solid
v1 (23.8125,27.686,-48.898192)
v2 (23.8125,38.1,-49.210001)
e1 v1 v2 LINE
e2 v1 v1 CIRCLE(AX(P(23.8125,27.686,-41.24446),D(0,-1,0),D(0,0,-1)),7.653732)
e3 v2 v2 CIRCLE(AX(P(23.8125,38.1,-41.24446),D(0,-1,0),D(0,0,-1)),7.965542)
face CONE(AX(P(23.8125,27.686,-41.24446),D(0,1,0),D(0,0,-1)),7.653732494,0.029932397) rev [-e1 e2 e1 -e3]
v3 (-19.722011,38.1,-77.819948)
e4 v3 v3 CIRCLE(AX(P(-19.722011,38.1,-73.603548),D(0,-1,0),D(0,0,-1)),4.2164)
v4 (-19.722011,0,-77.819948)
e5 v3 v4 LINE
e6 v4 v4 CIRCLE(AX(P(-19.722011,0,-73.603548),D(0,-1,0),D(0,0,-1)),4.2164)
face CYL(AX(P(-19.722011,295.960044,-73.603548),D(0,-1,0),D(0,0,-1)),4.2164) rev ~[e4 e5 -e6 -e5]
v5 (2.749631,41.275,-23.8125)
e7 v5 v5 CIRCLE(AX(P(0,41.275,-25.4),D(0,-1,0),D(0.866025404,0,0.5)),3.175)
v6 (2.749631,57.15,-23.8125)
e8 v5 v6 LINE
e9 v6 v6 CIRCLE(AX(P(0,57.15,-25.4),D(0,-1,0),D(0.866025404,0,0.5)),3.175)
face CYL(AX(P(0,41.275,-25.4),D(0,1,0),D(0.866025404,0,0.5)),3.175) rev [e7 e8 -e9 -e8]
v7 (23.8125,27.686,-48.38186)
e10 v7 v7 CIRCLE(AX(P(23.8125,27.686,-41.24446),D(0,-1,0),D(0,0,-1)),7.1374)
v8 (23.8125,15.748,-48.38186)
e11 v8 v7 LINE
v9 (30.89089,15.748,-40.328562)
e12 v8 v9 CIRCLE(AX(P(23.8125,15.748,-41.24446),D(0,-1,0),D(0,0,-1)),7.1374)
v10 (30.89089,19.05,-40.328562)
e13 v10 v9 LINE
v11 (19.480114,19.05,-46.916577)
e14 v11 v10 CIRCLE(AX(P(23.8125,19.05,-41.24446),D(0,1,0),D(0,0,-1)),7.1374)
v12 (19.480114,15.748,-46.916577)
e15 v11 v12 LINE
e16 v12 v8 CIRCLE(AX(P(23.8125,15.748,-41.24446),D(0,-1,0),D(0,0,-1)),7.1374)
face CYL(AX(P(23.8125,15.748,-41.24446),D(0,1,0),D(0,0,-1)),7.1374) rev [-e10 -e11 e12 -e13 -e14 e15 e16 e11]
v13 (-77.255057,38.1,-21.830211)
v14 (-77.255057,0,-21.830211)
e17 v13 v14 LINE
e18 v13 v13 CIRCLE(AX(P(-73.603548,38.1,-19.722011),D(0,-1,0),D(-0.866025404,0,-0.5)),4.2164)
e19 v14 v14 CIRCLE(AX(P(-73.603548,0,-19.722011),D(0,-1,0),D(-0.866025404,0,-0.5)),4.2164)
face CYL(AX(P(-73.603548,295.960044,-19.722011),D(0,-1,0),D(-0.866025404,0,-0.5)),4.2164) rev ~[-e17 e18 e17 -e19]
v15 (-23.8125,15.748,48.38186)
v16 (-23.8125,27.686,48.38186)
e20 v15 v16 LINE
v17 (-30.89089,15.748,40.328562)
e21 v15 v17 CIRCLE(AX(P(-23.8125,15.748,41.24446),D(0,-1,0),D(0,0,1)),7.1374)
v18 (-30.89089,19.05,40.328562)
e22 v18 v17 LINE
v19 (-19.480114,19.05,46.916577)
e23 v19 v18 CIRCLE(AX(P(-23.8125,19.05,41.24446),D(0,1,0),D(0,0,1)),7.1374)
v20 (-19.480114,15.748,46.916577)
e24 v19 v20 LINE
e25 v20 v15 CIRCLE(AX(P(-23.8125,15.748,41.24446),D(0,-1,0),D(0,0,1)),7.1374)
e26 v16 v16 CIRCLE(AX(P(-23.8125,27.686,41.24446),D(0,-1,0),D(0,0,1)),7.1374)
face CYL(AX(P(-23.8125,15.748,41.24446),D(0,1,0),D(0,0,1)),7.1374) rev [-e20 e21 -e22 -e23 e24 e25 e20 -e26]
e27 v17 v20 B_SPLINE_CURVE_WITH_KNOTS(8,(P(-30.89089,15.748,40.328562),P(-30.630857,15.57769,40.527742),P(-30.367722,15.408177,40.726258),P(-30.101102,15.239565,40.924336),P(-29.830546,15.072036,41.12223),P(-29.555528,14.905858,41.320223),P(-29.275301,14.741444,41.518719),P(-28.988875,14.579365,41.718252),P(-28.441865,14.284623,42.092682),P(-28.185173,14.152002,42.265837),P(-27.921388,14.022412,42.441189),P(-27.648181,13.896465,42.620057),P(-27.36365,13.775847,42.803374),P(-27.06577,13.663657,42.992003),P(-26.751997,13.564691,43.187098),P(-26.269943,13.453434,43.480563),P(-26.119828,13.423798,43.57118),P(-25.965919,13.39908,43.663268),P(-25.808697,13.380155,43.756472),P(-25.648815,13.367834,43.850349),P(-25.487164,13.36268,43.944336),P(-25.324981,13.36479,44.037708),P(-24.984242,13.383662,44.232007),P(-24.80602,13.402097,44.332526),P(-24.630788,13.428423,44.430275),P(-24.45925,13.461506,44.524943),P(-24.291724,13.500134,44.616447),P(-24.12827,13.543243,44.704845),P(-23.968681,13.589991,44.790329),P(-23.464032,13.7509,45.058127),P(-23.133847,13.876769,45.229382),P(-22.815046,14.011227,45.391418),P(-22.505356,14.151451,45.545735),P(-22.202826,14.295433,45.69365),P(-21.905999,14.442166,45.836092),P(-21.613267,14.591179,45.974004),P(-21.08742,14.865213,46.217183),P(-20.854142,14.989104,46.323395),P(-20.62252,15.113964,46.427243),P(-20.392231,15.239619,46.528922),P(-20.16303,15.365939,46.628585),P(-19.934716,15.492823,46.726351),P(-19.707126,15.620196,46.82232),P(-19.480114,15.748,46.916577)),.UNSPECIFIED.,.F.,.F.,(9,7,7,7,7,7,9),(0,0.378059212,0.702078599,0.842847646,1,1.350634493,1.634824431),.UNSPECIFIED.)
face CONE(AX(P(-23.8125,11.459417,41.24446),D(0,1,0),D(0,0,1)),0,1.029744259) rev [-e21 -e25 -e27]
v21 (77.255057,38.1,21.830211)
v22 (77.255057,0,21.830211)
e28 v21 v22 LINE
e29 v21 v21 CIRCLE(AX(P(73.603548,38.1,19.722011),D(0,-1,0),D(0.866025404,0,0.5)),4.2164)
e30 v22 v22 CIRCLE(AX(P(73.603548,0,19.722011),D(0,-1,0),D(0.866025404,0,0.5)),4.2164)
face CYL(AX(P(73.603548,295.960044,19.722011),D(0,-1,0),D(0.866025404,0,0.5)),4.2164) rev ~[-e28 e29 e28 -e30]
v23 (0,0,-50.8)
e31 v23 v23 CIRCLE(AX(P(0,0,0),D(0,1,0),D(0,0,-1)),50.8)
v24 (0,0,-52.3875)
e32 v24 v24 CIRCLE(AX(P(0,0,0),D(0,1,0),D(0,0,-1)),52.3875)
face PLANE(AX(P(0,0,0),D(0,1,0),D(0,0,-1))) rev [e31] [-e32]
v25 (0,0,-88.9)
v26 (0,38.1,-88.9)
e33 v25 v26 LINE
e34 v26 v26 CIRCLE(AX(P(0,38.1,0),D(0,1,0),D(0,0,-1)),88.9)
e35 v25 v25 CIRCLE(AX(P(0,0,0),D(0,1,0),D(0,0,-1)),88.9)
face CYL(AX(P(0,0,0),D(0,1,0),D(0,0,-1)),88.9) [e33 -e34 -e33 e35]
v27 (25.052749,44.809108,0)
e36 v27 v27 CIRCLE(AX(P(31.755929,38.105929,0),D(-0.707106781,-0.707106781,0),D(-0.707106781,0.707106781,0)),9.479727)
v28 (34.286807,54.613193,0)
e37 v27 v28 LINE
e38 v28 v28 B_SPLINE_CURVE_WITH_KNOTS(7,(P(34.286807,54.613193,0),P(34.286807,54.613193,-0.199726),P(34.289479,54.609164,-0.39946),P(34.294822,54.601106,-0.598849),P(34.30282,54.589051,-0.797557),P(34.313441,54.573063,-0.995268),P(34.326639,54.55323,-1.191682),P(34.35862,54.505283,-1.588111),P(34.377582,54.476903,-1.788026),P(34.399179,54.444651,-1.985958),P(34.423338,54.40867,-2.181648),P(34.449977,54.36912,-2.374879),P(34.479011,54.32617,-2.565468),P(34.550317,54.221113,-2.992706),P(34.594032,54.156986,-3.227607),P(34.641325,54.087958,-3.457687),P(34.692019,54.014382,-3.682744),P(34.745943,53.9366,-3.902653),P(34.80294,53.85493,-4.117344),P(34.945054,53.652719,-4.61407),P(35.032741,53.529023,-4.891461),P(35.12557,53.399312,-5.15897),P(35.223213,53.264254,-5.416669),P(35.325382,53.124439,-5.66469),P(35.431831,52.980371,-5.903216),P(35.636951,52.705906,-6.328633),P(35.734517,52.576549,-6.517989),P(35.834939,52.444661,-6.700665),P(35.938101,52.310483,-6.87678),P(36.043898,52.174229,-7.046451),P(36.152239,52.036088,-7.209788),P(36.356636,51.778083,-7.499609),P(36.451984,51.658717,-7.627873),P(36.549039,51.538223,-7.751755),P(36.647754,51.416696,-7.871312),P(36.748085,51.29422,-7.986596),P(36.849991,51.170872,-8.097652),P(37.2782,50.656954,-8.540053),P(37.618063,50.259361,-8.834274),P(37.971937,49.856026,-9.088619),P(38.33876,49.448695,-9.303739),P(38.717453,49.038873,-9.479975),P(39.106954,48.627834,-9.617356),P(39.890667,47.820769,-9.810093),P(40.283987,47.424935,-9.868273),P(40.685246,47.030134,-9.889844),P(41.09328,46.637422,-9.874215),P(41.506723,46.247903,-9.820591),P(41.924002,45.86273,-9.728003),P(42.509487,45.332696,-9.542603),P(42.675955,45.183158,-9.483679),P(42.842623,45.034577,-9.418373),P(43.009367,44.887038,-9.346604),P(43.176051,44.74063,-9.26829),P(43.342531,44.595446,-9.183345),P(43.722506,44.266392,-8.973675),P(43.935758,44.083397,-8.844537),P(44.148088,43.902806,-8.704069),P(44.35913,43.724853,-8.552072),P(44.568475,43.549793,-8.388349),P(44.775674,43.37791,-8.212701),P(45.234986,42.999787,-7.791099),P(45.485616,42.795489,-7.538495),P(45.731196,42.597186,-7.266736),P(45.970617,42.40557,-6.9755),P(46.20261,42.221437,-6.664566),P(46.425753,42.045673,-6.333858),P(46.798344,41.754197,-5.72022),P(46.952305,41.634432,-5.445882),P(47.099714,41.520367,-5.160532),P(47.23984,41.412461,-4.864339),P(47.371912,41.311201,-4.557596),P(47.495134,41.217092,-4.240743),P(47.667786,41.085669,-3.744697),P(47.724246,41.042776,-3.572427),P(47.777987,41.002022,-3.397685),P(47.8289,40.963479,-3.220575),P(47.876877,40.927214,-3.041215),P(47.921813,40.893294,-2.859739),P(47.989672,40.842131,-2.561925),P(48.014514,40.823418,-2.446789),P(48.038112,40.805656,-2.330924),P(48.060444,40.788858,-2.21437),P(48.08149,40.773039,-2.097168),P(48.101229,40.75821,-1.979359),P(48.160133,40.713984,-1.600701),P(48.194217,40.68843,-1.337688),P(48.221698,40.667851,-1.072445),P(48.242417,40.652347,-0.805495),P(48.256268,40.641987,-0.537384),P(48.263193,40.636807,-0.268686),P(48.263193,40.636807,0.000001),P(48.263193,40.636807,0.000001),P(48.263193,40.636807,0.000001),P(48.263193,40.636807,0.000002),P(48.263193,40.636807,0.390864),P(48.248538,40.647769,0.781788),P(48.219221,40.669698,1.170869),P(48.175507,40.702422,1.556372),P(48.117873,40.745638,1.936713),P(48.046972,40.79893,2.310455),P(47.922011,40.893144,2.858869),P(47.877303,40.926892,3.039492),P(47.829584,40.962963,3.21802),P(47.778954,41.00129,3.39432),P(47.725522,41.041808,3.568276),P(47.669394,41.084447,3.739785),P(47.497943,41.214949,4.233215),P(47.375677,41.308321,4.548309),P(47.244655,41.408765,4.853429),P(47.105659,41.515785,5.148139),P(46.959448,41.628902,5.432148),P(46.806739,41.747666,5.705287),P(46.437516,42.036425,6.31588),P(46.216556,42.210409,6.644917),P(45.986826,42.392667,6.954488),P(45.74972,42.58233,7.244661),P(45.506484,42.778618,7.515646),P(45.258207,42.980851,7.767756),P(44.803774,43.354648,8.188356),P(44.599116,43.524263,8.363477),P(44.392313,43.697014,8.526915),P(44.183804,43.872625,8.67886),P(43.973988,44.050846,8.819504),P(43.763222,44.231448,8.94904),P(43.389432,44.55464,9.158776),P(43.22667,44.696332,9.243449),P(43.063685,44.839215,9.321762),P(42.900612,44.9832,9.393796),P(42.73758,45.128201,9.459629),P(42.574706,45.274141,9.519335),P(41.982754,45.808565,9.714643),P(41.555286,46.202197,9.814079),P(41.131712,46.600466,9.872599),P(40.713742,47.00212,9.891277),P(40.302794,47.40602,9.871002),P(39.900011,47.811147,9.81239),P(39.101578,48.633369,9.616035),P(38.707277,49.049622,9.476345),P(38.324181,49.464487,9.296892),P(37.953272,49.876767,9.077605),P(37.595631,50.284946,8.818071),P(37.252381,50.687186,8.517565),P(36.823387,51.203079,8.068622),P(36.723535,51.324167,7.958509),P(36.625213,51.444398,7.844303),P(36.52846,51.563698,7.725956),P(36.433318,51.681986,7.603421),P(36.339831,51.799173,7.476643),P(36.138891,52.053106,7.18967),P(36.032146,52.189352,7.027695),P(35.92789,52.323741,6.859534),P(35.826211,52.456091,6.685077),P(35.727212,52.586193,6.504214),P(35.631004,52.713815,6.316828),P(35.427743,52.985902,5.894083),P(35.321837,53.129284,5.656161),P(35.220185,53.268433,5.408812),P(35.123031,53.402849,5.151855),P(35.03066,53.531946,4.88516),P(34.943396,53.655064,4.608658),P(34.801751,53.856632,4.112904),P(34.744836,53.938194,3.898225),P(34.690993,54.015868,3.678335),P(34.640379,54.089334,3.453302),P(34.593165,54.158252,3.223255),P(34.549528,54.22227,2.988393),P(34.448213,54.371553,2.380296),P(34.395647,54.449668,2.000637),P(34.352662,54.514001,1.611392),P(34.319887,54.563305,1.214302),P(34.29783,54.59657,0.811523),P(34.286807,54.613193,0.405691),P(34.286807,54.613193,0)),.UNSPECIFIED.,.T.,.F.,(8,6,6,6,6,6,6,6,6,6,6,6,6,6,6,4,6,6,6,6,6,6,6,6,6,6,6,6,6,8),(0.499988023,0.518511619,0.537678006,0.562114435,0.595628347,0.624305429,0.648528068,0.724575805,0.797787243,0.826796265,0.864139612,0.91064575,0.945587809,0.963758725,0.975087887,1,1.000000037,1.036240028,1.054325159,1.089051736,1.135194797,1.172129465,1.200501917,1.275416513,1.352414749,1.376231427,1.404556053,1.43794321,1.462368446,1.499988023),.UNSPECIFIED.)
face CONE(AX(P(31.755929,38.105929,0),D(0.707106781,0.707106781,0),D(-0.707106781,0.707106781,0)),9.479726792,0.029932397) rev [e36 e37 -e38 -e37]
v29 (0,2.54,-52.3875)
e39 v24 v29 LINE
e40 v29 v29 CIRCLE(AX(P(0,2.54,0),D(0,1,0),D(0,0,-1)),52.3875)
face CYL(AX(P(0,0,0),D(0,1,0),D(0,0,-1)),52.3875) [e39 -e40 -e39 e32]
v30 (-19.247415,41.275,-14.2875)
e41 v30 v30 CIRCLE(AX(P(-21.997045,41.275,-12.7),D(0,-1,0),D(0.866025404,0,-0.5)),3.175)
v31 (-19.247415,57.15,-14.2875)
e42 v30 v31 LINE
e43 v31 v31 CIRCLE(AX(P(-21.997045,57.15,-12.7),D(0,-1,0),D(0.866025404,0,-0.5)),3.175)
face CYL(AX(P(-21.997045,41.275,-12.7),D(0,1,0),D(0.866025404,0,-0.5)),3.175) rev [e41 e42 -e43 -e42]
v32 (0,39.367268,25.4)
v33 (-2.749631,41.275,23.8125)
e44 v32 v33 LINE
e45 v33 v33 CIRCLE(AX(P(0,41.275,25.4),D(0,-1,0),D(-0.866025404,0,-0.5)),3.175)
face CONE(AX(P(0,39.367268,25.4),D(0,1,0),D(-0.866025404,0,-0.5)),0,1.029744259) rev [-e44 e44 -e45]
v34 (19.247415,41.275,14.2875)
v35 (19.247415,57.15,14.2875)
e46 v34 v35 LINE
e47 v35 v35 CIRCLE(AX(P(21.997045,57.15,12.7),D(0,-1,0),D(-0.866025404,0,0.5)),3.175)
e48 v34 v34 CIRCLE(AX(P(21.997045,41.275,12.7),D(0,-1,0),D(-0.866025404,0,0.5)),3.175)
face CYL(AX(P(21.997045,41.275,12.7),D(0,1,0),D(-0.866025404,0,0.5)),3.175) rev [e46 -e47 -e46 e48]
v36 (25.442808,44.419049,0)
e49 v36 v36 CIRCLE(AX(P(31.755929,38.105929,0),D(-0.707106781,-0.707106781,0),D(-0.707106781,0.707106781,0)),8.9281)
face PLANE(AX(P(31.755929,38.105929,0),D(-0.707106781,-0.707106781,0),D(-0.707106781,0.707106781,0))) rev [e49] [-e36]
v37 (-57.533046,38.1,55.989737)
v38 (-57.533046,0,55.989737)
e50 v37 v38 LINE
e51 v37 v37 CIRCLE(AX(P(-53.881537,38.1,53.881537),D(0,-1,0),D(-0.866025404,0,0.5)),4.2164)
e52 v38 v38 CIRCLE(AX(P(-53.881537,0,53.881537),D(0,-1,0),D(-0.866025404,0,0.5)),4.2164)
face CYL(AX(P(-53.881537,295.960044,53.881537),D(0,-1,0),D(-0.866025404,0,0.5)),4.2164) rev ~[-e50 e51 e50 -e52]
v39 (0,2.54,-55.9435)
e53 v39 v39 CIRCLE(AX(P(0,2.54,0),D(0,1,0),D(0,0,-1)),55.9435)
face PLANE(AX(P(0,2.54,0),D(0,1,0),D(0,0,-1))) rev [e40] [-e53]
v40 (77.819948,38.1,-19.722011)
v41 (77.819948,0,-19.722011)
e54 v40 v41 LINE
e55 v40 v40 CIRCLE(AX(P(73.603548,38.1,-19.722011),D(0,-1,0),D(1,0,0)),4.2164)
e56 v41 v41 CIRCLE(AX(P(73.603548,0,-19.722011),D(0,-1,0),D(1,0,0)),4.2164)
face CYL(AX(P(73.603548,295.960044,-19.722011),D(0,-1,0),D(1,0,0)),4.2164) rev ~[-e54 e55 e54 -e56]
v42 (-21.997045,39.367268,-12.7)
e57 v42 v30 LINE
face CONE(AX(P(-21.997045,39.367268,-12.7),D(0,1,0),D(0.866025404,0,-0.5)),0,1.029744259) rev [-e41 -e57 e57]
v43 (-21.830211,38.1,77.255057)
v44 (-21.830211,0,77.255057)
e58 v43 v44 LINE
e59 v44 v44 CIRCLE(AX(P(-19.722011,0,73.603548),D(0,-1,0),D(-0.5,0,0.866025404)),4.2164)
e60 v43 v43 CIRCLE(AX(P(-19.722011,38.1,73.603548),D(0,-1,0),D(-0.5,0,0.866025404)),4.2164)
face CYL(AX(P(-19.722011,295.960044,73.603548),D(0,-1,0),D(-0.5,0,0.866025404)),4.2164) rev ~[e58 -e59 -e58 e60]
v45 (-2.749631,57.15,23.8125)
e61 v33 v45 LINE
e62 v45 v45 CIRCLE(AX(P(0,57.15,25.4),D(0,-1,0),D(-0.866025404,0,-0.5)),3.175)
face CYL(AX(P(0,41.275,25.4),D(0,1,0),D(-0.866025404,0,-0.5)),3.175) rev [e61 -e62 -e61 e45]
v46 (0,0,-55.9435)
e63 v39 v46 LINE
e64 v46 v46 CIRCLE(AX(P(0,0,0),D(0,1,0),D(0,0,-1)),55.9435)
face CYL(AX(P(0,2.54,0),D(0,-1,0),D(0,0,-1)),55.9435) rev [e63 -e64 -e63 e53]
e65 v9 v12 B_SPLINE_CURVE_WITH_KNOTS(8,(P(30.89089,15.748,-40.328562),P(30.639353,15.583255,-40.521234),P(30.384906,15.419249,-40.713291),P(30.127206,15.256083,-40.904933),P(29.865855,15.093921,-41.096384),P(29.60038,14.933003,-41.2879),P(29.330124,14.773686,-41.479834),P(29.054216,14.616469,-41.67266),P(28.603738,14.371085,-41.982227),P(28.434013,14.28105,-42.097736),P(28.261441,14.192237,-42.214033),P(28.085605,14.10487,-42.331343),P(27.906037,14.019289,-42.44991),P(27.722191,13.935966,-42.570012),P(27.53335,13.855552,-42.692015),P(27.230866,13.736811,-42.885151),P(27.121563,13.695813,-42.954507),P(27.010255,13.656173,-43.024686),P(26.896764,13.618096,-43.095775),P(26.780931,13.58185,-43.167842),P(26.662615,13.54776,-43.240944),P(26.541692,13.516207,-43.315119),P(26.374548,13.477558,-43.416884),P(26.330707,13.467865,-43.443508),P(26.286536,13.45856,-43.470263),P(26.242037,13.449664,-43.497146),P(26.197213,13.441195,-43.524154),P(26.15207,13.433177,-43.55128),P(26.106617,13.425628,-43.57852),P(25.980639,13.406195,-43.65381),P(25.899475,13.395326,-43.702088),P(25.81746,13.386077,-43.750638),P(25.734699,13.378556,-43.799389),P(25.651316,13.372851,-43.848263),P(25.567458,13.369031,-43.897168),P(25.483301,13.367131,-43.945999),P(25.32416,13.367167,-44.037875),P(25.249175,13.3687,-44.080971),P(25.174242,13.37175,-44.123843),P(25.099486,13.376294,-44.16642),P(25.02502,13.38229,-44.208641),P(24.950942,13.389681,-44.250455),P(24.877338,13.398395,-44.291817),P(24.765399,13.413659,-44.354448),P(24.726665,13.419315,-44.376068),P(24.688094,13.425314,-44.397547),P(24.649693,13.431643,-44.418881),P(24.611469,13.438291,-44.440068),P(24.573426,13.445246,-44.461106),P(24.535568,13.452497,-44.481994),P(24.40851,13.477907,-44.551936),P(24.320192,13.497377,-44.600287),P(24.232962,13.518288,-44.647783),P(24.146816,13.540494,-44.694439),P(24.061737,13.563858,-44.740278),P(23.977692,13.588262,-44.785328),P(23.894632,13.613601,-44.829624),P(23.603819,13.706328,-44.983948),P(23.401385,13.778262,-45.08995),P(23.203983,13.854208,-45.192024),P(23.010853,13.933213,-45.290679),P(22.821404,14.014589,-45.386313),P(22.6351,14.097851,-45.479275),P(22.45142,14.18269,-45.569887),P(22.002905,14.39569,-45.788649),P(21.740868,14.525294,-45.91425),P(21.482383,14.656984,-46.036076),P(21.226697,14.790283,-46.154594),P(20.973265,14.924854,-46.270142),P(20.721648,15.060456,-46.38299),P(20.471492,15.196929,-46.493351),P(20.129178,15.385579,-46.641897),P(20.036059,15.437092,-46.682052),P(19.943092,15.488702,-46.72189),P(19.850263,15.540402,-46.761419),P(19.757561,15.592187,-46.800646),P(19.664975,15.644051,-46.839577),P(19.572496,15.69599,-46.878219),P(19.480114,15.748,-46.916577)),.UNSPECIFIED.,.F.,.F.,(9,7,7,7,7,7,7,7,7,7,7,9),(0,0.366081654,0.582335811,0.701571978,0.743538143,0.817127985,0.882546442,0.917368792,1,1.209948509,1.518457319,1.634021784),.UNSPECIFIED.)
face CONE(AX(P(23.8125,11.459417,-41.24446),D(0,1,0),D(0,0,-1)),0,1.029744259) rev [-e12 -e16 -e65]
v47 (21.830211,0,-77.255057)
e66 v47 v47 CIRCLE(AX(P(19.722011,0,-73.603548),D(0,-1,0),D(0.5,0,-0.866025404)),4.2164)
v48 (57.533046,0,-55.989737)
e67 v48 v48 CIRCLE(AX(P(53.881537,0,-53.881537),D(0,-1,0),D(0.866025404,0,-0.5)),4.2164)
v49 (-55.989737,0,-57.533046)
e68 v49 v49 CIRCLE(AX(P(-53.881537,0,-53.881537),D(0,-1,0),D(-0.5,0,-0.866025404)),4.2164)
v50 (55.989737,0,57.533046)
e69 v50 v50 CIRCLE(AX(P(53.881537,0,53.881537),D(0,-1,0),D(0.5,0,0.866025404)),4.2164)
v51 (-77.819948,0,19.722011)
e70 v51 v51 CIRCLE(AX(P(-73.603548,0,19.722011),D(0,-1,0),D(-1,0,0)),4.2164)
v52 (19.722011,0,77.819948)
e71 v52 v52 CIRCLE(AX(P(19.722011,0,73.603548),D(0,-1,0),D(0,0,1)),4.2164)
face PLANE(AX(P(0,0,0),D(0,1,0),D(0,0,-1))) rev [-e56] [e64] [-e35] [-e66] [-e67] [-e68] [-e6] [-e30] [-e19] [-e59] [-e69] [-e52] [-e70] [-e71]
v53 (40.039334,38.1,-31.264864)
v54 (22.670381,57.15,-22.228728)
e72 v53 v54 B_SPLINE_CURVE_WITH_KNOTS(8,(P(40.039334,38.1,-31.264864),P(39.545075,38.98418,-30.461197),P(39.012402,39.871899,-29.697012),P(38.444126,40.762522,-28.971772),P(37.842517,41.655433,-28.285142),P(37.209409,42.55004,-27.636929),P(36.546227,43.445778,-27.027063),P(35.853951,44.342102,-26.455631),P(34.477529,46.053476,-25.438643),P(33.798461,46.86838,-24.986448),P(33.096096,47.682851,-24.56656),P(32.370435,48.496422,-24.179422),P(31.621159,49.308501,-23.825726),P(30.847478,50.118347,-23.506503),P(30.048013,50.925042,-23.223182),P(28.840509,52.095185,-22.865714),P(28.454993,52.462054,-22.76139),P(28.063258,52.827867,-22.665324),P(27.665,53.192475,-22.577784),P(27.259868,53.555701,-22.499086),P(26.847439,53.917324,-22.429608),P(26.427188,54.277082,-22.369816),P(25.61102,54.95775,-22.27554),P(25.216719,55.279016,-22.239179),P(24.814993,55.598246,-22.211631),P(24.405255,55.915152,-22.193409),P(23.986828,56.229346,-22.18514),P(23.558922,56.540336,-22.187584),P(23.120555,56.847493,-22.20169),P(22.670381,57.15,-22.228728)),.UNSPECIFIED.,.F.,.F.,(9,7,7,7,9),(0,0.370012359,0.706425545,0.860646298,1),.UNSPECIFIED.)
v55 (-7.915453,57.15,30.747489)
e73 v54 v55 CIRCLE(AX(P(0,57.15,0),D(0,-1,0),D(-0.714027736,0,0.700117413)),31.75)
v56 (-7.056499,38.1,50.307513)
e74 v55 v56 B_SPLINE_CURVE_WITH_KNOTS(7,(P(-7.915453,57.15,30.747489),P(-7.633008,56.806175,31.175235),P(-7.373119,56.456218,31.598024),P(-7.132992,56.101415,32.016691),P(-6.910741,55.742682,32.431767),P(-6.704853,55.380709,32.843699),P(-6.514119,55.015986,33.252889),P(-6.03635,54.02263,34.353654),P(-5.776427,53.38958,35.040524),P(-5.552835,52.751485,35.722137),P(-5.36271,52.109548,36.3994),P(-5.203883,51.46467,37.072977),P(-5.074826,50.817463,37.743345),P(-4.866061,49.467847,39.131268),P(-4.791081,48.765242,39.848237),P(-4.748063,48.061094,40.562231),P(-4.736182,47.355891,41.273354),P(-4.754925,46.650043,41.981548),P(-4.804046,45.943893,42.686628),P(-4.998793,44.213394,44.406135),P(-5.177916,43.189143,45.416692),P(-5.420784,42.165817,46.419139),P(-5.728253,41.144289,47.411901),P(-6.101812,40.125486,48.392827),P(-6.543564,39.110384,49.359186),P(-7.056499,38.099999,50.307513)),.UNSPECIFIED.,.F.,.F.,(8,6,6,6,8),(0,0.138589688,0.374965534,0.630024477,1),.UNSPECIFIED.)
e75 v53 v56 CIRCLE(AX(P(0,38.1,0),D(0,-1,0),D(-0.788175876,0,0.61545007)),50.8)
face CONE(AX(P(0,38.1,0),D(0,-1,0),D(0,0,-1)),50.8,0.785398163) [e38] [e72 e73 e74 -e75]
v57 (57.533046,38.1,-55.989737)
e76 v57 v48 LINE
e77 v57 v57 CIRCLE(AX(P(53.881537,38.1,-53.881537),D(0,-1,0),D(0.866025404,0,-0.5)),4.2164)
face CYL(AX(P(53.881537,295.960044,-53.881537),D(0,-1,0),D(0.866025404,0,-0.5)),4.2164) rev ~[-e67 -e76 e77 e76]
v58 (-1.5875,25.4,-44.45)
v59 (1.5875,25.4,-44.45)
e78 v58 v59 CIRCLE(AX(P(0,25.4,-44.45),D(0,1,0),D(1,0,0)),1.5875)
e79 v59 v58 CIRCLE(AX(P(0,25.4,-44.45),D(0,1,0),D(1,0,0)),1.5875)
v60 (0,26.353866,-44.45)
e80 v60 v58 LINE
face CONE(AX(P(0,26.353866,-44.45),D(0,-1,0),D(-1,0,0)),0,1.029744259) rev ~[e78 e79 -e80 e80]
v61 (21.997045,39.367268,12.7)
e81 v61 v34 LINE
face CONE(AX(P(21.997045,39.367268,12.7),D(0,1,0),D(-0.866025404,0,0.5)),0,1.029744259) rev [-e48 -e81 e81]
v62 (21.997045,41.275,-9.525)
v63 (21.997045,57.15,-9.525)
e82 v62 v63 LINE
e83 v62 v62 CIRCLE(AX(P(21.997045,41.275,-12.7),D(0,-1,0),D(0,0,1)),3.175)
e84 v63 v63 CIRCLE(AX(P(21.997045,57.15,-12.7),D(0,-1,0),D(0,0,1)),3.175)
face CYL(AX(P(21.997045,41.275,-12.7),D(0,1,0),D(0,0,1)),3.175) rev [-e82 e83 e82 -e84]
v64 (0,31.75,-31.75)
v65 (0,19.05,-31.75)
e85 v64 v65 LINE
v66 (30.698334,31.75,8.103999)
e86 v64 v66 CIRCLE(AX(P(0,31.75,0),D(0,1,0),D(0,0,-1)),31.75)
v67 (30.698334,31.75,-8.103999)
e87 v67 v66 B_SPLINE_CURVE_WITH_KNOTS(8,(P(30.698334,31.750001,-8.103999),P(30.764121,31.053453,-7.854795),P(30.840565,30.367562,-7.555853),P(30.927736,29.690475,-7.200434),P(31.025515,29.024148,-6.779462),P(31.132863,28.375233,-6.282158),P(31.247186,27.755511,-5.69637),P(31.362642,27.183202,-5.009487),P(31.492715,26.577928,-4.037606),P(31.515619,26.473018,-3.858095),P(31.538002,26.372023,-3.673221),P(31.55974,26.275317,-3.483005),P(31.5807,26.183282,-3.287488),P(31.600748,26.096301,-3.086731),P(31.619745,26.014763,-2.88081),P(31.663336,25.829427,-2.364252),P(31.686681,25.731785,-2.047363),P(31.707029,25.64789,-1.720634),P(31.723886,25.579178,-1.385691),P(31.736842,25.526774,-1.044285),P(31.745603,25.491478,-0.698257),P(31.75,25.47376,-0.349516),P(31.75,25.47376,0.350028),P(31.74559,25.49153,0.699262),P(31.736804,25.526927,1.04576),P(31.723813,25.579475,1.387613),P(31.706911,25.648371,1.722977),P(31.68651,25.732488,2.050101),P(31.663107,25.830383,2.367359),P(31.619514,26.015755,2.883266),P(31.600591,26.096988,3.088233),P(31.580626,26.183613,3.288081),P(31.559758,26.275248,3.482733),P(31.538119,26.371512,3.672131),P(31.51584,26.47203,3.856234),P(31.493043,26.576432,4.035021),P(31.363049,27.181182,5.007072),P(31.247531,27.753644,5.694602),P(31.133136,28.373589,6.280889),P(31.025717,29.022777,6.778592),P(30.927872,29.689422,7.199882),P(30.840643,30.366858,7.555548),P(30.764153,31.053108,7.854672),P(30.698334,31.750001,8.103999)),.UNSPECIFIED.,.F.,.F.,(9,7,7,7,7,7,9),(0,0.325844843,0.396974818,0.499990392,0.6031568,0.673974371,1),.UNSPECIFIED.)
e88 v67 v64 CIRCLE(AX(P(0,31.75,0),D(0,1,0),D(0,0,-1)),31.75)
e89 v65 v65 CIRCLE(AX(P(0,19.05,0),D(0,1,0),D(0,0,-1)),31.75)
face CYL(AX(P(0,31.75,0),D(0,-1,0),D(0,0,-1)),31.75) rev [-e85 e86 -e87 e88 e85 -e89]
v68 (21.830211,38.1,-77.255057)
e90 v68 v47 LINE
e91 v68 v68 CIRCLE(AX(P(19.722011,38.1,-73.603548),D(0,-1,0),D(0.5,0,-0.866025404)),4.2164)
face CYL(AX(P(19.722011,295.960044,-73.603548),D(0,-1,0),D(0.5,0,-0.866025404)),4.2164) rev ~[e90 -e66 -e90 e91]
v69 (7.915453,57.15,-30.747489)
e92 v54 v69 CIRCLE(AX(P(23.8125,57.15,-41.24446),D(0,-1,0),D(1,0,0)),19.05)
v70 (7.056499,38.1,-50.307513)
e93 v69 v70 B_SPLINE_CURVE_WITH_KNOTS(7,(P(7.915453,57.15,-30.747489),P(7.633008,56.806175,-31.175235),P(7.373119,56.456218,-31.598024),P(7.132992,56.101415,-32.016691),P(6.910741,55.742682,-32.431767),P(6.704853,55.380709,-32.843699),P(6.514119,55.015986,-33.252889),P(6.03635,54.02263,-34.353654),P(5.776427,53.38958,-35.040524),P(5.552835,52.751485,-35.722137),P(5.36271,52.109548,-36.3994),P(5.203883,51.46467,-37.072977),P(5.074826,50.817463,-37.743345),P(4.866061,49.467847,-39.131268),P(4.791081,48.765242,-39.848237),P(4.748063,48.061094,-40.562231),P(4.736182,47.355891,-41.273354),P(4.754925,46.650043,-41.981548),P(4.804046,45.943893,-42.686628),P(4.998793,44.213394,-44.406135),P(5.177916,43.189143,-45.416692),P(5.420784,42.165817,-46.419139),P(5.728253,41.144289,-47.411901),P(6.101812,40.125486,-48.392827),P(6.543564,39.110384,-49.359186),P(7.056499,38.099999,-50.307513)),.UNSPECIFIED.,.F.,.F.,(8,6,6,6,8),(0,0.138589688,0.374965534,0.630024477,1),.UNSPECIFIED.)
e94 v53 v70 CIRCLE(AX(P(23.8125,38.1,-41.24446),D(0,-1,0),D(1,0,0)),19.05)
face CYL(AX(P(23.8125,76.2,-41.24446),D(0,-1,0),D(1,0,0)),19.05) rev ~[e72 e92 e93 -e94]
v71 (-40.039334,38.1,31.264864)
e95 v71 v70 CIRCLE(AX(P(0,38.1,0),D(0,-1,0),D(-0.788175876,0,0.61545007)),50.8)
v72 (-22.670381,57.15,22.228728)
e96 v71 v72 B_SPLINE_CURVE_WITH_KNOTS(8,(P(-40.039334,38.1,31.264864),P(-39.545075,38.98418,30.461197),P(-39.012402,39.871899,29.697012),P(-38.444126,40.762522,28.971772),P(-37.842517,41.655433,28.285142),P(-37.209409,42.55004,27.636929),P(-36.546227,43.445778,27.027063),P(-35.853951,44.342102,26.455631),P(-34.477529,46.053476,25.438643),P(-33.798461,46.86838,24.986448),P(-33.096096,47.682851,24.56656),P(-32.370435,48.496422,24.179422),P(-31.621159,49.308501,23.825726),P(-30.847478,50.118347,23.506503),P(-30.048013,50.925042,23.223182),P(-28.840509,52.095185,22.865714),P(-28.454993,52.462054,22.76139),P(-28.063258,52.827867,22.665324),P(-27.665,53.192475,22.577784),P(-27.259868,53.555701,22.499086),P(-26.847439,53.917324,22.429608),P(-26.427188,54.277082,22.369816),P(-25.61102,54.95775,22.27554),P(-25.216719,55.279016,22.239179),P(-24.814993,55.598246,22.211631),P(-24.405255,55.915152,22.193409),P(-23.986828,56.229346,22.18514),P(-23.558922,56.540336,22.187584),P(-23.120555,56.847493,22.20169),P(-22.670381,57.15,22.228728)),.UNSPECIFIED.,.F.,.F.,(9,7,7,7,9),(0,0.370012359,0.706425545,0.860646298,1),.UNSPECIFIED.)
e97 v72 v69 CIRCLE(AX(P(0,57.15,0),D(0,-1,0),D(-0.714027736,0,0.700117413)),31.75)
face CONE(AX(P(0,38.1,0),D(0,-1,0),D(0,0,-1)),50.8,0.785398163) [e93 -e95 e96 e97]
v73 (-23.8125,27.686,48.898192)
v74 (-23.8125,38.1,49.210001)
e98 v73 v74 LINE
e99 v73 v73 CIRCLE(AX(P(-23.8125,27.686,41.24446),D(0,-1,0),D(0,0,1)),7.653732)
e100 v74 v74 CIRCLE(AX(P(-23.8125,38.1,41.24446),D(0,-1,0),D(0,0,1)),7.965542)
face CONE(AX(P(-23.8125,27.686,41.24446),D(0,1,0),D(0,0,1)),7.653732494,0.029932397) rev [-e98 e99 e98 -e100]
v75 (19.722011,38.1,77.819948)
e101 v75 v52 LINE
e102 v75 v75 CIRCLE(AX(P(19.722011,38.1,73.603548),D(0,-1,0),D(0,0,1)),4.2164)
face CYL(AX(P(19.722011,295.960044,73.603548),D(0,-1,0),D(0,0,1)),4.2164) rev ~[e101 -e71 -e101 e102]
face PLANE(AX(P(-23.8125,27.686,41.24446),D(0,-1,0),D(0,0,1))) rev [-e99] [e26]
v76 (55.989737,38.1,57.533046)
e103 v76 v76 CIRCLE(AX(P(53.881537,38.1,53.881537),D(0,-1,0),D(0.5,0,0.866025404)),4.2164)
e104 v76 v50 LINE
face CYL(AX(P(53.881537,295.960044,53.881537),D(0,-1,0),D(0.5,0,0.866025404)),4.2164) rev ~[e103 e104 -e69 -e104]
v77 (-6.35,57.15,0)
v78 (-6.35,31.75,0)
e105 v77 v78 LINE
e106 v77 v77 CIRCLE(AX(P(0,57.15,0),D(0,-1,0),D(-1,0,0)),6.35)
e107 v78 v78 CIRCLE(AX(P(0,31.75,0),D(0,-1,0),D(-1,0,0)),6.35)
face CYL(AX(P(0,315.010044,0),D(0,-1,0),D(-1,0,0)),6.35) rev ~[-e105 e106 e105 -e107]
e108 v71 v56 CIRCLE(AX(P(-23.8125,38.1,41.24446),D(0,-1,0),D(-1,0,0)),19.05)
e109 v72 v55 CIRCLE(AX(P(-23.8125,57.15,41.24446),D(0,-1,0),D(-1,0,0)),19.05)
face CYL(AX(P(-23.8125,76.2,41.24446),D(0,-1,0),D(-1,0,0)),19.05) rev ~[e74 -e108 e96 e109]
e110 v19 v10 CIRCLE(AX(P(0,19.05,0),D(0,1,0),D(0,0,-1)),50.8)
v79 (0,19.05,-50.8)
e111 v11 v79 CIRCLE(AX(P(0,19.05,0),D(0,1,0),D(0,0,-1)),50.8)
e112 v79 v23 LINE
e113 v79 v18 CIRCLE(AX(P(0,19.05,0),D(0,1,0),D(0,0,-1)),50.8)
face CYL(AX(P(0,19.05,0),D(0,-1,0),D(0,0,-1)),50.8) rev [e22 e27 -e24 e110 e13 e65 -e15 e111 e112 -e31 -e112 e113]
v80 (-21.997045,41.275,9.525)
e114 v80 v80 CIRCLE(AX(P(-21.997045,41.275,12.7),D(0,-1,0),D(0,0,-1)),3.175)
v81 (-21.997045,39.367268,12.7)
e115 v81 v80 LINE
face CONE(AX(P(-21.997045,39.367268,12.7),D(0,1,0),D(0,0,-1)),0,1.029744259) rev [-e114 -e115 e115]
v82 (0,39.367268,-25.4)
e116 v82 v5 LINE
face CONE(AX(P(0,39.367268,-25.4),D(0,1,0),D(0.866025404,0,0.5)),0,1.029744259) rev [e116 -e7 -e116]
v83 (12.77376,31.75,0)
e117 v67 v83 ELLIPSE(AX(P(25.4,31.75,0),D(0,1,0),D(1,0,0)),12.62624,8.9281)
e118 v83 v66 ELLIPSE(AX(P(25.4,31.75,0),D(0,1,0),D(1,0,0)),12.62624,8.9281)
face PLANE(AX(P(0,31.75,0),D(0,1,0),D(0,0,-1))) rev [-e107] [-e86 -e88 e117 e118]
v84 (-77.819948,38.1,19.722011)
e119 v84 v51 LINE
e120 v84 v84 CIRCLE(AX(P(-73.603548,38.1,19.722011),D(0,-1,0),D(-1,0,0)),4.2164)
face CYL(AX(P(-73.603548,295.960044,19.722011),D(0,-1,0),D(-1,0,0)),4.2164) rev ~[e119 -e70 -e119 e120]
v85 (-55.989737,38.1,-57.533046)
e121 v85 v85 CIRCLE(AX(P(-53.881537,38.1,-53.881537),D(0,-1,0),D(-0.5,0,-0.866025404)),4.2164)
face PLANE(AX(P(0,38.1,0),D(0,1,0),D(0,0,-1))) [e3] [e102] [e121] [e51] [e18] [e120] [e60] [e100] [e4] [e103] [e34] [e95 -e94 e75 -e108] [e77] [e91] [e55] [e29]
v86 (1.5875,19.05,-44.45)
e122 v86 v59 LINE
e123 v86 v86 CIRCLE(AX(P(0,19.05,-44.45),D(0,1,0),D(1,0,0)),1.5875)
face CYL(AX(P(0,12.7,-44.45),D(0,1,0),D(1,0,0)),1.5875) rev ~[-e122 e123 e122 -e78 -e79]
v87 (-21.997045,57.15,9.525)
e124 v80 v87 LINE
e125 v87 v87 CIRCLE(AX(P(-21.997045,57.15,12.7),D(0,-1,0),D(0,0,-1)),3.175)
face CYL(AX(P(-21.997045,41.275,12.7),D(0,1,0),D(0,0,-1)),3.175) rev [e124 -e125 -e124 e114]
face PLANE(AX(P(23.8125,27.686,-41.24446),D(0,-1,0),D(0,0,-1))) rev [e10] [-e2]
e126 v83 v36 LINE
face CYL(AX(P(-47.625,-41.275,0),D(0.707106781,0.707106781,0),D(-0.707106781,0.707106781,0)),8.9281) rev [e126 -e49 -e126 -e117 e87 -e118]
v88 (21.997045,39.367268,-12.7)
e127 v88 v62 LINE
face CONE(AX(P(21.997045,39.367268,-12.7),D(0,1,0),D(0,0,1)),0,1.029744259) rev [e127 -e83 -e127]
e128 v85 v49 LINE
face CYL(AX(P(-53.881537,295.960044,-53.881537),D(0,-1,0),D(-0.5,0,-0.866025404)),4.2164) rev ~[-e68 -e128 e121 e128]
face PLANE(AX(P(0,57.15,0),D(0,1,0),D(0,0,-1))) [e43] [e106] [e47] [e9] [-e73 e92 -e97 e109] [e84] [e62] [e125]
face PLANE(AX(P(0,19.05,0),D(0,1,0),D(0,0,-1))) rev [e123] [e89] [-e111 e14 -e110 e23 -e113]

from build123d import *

# Parameters (mm, degrees)
F_5_16_CLEARANCE_HOLE1_D         = 8.4328
CIRPATTERN1_COUNT                = 12
F_1_2_0_5_DIAMETER_HOLE1_D       = 12.7
F_1_1_5_DIAMETER_HOLE1_D         = 38.1
F_1_1_5_DIAMETER_HOLE1_DEPTH     = 19.05
CIRPATTERN2_COUNT                = 6
CIRPATTERN3_COUNT                = 2
F_1_8_0_125_DIAMETER_HOLE1_D     = 3.175
F_1_8_0_125_DIAMETER_HOLE1_DEPTH = 6.35
F_1_8_0_125_DIAMETER_HOLE1_TIP   = 0.953866233


with BuildPart() as part:
    # Sketch1 → Revolve1 (revolve)
    with BuildSketch(Plane.XY, mode=Mode.PRIVATE) as revolve1_sk:
        Polygon((-55.9435, 0), (-88.9, 0), (-88.9, 38.1), (-50.8, 38.1), (-31.75, 57.15), (0, 57.15), (0, 31.75), (-31.75, 31.75), (-31.75, 19.05), (-50.8, 19.05), (-50.8, 0), (-52.3875, 0), (-52.3875, 2.54), (-55.9435, 2.54), align=None)
    revolve(revolve1_sk.sketch.rotate(Axis((0, 0, 0), (0, 1, 0)), 270), axis=Axis((0, 0, 0), (0, 1, 0)))

    # 5/16 Clearance Hole1 (through all)
    with Locations(Plane(origin=(0, 38.1, 0), x_dir=(1, 0, 0), z_dir=(0, 1, 0))):
        with Locations((-73.603547963, -19.722011237)):
            f_5_16_clearance_hole1 = Hole(F_5_16_CLEARANCE_HOLE1_D / 2)

    # CirPattern1: 5/16 Clearance Hole1 ×12 about axis
    cirpattern1_axis = Axis((0, 0, 0), (0, 1, 0))
    for i in range(1, CIRPATTERN1_COUNT):
        add(f_5_16_clearance_hole1.rotate(cirpattern1_axis, i * 360 / CIRPATTERN1_COUNT), mode=Mode.SUBTRACT)

    # 1/2 (0.5) Diameter Hole1 (through all)
    with Locations(Plane(origin=(0, 57.15, 0), x_dir=(1, 0, 0), z_dir=(0, 1, 0))):
        with Locations((0, 0)):
            Hole(F_1_2_0_5_DIAMETER_HOLE1_D / 2)

    # Sketch11 → 1/2 NPT Tapped Hole1 (revolve, cut)
    with BuildSketch(Plane(origin=(41.275, 47.625, 0), x_dir=(-0.707106781186546, 0.707106781186549, 0), z_dir=(0, 0, 1))):
        Polygon((0, 0), (0, 125.723585695), (8.9281, 125.723585695), (8.9281, 13.462), (9.479726792, 13.462), (9.8827971, 0), align=None)
    revolve(axis=Axis((45.765128061, 52.115128061, 0), (-0.707106781186549, -0.707106781186546, 0)), mode=Mode.SUBTRACT)

    # 1 (1.5) Diameter Hole1
    with Locations(Plane(origin=(0, 57.15, 0), x_dir=(1, 0, 0), z_dir=(0, 1, 0))):
        with Locations((-23.8125, -41.244459855)):
            f_1_1_5_diameter_hole1 = Hole(F_1_1_5_DIAMETER_HOLE1_D / 2, depth=F_1_1_5_DIAMETER_HOLE1_DEPTH)

    # Sketch19 → 3/8 NPT Tapped Hole1 (revolve, cut)
    with BuildSketch(Plane(origin=(-23.8125, 38.1, 41.244459855), x_dir=(0, 0, 1), z_dir=(1, 0, 0))):
        Polygon((0, 0), (0, 26.640582582), (7.1374, 22.352), (7.1374, 10.414), (7.653732494, 10.414), (7.9655416, 0), align=None)
    f_3_8_npt_tapped_hole1 = revolve(axis=Axis((-23.8125, 44.45, 41.244459855), (0, -1, 0)), mode=Mode.SUBTRACT)

    # Sketch21 → 1/4 (0.25) Diameter Hole1 (revolve, cut)
    with BuildSketch(Plane(origin=(21.997045256, 57.15, -12.7), x_dir=(0, 0, 1), z_dir=(1, 0, 0))):
        Polygon((0, 0), (0, 17.782732465), (3.175, 15.875), (3.175, 0), align=None)
    f_1_4_0_25_diameter_hole1 = revolve(axis=Axis((21.997045256, 63.5, -12.7), (0, -1, 0)), mode=Mode.SUBTRACT)

    # CirPattern2: 1/4 (0.25) Diameter Hole1 ×6 about axis
    cirpattern2_axis = Axis((0, 0, 0), (0, 1, 0))
    for i in range(1, CIRPATTERN2_COUNT):
        add(f_1_4_0_25_diameter_hole1.rotate(cirpattern2_axis, i * 360 / CIRPATTERN2_COUNT), mode=Mode.SUBTRACT)

    # CirPattern3: 1 (1.5) Diameter Hole1, 3/8 NPT Tapped Hole1 ×2 about axis
    cirpattern3_axis = Axis((0, 0, 0), (0, 1, 0))
    add([f_1_1_5_diameter_hole1.rotate(cirpattern3_axis, i * 360 / CIRPATTERN3_COUNT) for i in range(1, CIRPATTERN3_COUNT)], mode=Mode.SUBTRACT)
    add([f_3_8_npt_tapped_hole1.rotate(cirpattern3_axis, i * 360 / CIRPATTERN3_COUNT) for i in range(1, CIRPATTERN3_COUNT)], mode=Mode.SUBTRACT)

    # 1/8 (0.125) Diameter Hole1
    with Locations(Plane(origin=(0, 19.05, 0), x_dir=(-1, 0, 0), z_dir=(0, -1, 0))):
        with Locations((0, 44.45)):
            Hole(F_1_8_0_125_DIAMETER_HOLE1_D / 2, depth=F_1_8_0_125_DIAMETER_HOLE1_DEPTH)
            with Locations((0, 0, -(F_1_8_0_125_DIAMETER_HOLE1_DEPTH + F_1_8_0_125_DIAMETER_HOLE1_TIP / 2))):  # 118° drill point
                Cone(0, F_1_8_0_125_DIAMETER_HOLE1_D / 2, F_1_8_0_125_DIAMETER_HOLE1_TIP, mode=Mode.SUBTRACT)


solid = part.part
